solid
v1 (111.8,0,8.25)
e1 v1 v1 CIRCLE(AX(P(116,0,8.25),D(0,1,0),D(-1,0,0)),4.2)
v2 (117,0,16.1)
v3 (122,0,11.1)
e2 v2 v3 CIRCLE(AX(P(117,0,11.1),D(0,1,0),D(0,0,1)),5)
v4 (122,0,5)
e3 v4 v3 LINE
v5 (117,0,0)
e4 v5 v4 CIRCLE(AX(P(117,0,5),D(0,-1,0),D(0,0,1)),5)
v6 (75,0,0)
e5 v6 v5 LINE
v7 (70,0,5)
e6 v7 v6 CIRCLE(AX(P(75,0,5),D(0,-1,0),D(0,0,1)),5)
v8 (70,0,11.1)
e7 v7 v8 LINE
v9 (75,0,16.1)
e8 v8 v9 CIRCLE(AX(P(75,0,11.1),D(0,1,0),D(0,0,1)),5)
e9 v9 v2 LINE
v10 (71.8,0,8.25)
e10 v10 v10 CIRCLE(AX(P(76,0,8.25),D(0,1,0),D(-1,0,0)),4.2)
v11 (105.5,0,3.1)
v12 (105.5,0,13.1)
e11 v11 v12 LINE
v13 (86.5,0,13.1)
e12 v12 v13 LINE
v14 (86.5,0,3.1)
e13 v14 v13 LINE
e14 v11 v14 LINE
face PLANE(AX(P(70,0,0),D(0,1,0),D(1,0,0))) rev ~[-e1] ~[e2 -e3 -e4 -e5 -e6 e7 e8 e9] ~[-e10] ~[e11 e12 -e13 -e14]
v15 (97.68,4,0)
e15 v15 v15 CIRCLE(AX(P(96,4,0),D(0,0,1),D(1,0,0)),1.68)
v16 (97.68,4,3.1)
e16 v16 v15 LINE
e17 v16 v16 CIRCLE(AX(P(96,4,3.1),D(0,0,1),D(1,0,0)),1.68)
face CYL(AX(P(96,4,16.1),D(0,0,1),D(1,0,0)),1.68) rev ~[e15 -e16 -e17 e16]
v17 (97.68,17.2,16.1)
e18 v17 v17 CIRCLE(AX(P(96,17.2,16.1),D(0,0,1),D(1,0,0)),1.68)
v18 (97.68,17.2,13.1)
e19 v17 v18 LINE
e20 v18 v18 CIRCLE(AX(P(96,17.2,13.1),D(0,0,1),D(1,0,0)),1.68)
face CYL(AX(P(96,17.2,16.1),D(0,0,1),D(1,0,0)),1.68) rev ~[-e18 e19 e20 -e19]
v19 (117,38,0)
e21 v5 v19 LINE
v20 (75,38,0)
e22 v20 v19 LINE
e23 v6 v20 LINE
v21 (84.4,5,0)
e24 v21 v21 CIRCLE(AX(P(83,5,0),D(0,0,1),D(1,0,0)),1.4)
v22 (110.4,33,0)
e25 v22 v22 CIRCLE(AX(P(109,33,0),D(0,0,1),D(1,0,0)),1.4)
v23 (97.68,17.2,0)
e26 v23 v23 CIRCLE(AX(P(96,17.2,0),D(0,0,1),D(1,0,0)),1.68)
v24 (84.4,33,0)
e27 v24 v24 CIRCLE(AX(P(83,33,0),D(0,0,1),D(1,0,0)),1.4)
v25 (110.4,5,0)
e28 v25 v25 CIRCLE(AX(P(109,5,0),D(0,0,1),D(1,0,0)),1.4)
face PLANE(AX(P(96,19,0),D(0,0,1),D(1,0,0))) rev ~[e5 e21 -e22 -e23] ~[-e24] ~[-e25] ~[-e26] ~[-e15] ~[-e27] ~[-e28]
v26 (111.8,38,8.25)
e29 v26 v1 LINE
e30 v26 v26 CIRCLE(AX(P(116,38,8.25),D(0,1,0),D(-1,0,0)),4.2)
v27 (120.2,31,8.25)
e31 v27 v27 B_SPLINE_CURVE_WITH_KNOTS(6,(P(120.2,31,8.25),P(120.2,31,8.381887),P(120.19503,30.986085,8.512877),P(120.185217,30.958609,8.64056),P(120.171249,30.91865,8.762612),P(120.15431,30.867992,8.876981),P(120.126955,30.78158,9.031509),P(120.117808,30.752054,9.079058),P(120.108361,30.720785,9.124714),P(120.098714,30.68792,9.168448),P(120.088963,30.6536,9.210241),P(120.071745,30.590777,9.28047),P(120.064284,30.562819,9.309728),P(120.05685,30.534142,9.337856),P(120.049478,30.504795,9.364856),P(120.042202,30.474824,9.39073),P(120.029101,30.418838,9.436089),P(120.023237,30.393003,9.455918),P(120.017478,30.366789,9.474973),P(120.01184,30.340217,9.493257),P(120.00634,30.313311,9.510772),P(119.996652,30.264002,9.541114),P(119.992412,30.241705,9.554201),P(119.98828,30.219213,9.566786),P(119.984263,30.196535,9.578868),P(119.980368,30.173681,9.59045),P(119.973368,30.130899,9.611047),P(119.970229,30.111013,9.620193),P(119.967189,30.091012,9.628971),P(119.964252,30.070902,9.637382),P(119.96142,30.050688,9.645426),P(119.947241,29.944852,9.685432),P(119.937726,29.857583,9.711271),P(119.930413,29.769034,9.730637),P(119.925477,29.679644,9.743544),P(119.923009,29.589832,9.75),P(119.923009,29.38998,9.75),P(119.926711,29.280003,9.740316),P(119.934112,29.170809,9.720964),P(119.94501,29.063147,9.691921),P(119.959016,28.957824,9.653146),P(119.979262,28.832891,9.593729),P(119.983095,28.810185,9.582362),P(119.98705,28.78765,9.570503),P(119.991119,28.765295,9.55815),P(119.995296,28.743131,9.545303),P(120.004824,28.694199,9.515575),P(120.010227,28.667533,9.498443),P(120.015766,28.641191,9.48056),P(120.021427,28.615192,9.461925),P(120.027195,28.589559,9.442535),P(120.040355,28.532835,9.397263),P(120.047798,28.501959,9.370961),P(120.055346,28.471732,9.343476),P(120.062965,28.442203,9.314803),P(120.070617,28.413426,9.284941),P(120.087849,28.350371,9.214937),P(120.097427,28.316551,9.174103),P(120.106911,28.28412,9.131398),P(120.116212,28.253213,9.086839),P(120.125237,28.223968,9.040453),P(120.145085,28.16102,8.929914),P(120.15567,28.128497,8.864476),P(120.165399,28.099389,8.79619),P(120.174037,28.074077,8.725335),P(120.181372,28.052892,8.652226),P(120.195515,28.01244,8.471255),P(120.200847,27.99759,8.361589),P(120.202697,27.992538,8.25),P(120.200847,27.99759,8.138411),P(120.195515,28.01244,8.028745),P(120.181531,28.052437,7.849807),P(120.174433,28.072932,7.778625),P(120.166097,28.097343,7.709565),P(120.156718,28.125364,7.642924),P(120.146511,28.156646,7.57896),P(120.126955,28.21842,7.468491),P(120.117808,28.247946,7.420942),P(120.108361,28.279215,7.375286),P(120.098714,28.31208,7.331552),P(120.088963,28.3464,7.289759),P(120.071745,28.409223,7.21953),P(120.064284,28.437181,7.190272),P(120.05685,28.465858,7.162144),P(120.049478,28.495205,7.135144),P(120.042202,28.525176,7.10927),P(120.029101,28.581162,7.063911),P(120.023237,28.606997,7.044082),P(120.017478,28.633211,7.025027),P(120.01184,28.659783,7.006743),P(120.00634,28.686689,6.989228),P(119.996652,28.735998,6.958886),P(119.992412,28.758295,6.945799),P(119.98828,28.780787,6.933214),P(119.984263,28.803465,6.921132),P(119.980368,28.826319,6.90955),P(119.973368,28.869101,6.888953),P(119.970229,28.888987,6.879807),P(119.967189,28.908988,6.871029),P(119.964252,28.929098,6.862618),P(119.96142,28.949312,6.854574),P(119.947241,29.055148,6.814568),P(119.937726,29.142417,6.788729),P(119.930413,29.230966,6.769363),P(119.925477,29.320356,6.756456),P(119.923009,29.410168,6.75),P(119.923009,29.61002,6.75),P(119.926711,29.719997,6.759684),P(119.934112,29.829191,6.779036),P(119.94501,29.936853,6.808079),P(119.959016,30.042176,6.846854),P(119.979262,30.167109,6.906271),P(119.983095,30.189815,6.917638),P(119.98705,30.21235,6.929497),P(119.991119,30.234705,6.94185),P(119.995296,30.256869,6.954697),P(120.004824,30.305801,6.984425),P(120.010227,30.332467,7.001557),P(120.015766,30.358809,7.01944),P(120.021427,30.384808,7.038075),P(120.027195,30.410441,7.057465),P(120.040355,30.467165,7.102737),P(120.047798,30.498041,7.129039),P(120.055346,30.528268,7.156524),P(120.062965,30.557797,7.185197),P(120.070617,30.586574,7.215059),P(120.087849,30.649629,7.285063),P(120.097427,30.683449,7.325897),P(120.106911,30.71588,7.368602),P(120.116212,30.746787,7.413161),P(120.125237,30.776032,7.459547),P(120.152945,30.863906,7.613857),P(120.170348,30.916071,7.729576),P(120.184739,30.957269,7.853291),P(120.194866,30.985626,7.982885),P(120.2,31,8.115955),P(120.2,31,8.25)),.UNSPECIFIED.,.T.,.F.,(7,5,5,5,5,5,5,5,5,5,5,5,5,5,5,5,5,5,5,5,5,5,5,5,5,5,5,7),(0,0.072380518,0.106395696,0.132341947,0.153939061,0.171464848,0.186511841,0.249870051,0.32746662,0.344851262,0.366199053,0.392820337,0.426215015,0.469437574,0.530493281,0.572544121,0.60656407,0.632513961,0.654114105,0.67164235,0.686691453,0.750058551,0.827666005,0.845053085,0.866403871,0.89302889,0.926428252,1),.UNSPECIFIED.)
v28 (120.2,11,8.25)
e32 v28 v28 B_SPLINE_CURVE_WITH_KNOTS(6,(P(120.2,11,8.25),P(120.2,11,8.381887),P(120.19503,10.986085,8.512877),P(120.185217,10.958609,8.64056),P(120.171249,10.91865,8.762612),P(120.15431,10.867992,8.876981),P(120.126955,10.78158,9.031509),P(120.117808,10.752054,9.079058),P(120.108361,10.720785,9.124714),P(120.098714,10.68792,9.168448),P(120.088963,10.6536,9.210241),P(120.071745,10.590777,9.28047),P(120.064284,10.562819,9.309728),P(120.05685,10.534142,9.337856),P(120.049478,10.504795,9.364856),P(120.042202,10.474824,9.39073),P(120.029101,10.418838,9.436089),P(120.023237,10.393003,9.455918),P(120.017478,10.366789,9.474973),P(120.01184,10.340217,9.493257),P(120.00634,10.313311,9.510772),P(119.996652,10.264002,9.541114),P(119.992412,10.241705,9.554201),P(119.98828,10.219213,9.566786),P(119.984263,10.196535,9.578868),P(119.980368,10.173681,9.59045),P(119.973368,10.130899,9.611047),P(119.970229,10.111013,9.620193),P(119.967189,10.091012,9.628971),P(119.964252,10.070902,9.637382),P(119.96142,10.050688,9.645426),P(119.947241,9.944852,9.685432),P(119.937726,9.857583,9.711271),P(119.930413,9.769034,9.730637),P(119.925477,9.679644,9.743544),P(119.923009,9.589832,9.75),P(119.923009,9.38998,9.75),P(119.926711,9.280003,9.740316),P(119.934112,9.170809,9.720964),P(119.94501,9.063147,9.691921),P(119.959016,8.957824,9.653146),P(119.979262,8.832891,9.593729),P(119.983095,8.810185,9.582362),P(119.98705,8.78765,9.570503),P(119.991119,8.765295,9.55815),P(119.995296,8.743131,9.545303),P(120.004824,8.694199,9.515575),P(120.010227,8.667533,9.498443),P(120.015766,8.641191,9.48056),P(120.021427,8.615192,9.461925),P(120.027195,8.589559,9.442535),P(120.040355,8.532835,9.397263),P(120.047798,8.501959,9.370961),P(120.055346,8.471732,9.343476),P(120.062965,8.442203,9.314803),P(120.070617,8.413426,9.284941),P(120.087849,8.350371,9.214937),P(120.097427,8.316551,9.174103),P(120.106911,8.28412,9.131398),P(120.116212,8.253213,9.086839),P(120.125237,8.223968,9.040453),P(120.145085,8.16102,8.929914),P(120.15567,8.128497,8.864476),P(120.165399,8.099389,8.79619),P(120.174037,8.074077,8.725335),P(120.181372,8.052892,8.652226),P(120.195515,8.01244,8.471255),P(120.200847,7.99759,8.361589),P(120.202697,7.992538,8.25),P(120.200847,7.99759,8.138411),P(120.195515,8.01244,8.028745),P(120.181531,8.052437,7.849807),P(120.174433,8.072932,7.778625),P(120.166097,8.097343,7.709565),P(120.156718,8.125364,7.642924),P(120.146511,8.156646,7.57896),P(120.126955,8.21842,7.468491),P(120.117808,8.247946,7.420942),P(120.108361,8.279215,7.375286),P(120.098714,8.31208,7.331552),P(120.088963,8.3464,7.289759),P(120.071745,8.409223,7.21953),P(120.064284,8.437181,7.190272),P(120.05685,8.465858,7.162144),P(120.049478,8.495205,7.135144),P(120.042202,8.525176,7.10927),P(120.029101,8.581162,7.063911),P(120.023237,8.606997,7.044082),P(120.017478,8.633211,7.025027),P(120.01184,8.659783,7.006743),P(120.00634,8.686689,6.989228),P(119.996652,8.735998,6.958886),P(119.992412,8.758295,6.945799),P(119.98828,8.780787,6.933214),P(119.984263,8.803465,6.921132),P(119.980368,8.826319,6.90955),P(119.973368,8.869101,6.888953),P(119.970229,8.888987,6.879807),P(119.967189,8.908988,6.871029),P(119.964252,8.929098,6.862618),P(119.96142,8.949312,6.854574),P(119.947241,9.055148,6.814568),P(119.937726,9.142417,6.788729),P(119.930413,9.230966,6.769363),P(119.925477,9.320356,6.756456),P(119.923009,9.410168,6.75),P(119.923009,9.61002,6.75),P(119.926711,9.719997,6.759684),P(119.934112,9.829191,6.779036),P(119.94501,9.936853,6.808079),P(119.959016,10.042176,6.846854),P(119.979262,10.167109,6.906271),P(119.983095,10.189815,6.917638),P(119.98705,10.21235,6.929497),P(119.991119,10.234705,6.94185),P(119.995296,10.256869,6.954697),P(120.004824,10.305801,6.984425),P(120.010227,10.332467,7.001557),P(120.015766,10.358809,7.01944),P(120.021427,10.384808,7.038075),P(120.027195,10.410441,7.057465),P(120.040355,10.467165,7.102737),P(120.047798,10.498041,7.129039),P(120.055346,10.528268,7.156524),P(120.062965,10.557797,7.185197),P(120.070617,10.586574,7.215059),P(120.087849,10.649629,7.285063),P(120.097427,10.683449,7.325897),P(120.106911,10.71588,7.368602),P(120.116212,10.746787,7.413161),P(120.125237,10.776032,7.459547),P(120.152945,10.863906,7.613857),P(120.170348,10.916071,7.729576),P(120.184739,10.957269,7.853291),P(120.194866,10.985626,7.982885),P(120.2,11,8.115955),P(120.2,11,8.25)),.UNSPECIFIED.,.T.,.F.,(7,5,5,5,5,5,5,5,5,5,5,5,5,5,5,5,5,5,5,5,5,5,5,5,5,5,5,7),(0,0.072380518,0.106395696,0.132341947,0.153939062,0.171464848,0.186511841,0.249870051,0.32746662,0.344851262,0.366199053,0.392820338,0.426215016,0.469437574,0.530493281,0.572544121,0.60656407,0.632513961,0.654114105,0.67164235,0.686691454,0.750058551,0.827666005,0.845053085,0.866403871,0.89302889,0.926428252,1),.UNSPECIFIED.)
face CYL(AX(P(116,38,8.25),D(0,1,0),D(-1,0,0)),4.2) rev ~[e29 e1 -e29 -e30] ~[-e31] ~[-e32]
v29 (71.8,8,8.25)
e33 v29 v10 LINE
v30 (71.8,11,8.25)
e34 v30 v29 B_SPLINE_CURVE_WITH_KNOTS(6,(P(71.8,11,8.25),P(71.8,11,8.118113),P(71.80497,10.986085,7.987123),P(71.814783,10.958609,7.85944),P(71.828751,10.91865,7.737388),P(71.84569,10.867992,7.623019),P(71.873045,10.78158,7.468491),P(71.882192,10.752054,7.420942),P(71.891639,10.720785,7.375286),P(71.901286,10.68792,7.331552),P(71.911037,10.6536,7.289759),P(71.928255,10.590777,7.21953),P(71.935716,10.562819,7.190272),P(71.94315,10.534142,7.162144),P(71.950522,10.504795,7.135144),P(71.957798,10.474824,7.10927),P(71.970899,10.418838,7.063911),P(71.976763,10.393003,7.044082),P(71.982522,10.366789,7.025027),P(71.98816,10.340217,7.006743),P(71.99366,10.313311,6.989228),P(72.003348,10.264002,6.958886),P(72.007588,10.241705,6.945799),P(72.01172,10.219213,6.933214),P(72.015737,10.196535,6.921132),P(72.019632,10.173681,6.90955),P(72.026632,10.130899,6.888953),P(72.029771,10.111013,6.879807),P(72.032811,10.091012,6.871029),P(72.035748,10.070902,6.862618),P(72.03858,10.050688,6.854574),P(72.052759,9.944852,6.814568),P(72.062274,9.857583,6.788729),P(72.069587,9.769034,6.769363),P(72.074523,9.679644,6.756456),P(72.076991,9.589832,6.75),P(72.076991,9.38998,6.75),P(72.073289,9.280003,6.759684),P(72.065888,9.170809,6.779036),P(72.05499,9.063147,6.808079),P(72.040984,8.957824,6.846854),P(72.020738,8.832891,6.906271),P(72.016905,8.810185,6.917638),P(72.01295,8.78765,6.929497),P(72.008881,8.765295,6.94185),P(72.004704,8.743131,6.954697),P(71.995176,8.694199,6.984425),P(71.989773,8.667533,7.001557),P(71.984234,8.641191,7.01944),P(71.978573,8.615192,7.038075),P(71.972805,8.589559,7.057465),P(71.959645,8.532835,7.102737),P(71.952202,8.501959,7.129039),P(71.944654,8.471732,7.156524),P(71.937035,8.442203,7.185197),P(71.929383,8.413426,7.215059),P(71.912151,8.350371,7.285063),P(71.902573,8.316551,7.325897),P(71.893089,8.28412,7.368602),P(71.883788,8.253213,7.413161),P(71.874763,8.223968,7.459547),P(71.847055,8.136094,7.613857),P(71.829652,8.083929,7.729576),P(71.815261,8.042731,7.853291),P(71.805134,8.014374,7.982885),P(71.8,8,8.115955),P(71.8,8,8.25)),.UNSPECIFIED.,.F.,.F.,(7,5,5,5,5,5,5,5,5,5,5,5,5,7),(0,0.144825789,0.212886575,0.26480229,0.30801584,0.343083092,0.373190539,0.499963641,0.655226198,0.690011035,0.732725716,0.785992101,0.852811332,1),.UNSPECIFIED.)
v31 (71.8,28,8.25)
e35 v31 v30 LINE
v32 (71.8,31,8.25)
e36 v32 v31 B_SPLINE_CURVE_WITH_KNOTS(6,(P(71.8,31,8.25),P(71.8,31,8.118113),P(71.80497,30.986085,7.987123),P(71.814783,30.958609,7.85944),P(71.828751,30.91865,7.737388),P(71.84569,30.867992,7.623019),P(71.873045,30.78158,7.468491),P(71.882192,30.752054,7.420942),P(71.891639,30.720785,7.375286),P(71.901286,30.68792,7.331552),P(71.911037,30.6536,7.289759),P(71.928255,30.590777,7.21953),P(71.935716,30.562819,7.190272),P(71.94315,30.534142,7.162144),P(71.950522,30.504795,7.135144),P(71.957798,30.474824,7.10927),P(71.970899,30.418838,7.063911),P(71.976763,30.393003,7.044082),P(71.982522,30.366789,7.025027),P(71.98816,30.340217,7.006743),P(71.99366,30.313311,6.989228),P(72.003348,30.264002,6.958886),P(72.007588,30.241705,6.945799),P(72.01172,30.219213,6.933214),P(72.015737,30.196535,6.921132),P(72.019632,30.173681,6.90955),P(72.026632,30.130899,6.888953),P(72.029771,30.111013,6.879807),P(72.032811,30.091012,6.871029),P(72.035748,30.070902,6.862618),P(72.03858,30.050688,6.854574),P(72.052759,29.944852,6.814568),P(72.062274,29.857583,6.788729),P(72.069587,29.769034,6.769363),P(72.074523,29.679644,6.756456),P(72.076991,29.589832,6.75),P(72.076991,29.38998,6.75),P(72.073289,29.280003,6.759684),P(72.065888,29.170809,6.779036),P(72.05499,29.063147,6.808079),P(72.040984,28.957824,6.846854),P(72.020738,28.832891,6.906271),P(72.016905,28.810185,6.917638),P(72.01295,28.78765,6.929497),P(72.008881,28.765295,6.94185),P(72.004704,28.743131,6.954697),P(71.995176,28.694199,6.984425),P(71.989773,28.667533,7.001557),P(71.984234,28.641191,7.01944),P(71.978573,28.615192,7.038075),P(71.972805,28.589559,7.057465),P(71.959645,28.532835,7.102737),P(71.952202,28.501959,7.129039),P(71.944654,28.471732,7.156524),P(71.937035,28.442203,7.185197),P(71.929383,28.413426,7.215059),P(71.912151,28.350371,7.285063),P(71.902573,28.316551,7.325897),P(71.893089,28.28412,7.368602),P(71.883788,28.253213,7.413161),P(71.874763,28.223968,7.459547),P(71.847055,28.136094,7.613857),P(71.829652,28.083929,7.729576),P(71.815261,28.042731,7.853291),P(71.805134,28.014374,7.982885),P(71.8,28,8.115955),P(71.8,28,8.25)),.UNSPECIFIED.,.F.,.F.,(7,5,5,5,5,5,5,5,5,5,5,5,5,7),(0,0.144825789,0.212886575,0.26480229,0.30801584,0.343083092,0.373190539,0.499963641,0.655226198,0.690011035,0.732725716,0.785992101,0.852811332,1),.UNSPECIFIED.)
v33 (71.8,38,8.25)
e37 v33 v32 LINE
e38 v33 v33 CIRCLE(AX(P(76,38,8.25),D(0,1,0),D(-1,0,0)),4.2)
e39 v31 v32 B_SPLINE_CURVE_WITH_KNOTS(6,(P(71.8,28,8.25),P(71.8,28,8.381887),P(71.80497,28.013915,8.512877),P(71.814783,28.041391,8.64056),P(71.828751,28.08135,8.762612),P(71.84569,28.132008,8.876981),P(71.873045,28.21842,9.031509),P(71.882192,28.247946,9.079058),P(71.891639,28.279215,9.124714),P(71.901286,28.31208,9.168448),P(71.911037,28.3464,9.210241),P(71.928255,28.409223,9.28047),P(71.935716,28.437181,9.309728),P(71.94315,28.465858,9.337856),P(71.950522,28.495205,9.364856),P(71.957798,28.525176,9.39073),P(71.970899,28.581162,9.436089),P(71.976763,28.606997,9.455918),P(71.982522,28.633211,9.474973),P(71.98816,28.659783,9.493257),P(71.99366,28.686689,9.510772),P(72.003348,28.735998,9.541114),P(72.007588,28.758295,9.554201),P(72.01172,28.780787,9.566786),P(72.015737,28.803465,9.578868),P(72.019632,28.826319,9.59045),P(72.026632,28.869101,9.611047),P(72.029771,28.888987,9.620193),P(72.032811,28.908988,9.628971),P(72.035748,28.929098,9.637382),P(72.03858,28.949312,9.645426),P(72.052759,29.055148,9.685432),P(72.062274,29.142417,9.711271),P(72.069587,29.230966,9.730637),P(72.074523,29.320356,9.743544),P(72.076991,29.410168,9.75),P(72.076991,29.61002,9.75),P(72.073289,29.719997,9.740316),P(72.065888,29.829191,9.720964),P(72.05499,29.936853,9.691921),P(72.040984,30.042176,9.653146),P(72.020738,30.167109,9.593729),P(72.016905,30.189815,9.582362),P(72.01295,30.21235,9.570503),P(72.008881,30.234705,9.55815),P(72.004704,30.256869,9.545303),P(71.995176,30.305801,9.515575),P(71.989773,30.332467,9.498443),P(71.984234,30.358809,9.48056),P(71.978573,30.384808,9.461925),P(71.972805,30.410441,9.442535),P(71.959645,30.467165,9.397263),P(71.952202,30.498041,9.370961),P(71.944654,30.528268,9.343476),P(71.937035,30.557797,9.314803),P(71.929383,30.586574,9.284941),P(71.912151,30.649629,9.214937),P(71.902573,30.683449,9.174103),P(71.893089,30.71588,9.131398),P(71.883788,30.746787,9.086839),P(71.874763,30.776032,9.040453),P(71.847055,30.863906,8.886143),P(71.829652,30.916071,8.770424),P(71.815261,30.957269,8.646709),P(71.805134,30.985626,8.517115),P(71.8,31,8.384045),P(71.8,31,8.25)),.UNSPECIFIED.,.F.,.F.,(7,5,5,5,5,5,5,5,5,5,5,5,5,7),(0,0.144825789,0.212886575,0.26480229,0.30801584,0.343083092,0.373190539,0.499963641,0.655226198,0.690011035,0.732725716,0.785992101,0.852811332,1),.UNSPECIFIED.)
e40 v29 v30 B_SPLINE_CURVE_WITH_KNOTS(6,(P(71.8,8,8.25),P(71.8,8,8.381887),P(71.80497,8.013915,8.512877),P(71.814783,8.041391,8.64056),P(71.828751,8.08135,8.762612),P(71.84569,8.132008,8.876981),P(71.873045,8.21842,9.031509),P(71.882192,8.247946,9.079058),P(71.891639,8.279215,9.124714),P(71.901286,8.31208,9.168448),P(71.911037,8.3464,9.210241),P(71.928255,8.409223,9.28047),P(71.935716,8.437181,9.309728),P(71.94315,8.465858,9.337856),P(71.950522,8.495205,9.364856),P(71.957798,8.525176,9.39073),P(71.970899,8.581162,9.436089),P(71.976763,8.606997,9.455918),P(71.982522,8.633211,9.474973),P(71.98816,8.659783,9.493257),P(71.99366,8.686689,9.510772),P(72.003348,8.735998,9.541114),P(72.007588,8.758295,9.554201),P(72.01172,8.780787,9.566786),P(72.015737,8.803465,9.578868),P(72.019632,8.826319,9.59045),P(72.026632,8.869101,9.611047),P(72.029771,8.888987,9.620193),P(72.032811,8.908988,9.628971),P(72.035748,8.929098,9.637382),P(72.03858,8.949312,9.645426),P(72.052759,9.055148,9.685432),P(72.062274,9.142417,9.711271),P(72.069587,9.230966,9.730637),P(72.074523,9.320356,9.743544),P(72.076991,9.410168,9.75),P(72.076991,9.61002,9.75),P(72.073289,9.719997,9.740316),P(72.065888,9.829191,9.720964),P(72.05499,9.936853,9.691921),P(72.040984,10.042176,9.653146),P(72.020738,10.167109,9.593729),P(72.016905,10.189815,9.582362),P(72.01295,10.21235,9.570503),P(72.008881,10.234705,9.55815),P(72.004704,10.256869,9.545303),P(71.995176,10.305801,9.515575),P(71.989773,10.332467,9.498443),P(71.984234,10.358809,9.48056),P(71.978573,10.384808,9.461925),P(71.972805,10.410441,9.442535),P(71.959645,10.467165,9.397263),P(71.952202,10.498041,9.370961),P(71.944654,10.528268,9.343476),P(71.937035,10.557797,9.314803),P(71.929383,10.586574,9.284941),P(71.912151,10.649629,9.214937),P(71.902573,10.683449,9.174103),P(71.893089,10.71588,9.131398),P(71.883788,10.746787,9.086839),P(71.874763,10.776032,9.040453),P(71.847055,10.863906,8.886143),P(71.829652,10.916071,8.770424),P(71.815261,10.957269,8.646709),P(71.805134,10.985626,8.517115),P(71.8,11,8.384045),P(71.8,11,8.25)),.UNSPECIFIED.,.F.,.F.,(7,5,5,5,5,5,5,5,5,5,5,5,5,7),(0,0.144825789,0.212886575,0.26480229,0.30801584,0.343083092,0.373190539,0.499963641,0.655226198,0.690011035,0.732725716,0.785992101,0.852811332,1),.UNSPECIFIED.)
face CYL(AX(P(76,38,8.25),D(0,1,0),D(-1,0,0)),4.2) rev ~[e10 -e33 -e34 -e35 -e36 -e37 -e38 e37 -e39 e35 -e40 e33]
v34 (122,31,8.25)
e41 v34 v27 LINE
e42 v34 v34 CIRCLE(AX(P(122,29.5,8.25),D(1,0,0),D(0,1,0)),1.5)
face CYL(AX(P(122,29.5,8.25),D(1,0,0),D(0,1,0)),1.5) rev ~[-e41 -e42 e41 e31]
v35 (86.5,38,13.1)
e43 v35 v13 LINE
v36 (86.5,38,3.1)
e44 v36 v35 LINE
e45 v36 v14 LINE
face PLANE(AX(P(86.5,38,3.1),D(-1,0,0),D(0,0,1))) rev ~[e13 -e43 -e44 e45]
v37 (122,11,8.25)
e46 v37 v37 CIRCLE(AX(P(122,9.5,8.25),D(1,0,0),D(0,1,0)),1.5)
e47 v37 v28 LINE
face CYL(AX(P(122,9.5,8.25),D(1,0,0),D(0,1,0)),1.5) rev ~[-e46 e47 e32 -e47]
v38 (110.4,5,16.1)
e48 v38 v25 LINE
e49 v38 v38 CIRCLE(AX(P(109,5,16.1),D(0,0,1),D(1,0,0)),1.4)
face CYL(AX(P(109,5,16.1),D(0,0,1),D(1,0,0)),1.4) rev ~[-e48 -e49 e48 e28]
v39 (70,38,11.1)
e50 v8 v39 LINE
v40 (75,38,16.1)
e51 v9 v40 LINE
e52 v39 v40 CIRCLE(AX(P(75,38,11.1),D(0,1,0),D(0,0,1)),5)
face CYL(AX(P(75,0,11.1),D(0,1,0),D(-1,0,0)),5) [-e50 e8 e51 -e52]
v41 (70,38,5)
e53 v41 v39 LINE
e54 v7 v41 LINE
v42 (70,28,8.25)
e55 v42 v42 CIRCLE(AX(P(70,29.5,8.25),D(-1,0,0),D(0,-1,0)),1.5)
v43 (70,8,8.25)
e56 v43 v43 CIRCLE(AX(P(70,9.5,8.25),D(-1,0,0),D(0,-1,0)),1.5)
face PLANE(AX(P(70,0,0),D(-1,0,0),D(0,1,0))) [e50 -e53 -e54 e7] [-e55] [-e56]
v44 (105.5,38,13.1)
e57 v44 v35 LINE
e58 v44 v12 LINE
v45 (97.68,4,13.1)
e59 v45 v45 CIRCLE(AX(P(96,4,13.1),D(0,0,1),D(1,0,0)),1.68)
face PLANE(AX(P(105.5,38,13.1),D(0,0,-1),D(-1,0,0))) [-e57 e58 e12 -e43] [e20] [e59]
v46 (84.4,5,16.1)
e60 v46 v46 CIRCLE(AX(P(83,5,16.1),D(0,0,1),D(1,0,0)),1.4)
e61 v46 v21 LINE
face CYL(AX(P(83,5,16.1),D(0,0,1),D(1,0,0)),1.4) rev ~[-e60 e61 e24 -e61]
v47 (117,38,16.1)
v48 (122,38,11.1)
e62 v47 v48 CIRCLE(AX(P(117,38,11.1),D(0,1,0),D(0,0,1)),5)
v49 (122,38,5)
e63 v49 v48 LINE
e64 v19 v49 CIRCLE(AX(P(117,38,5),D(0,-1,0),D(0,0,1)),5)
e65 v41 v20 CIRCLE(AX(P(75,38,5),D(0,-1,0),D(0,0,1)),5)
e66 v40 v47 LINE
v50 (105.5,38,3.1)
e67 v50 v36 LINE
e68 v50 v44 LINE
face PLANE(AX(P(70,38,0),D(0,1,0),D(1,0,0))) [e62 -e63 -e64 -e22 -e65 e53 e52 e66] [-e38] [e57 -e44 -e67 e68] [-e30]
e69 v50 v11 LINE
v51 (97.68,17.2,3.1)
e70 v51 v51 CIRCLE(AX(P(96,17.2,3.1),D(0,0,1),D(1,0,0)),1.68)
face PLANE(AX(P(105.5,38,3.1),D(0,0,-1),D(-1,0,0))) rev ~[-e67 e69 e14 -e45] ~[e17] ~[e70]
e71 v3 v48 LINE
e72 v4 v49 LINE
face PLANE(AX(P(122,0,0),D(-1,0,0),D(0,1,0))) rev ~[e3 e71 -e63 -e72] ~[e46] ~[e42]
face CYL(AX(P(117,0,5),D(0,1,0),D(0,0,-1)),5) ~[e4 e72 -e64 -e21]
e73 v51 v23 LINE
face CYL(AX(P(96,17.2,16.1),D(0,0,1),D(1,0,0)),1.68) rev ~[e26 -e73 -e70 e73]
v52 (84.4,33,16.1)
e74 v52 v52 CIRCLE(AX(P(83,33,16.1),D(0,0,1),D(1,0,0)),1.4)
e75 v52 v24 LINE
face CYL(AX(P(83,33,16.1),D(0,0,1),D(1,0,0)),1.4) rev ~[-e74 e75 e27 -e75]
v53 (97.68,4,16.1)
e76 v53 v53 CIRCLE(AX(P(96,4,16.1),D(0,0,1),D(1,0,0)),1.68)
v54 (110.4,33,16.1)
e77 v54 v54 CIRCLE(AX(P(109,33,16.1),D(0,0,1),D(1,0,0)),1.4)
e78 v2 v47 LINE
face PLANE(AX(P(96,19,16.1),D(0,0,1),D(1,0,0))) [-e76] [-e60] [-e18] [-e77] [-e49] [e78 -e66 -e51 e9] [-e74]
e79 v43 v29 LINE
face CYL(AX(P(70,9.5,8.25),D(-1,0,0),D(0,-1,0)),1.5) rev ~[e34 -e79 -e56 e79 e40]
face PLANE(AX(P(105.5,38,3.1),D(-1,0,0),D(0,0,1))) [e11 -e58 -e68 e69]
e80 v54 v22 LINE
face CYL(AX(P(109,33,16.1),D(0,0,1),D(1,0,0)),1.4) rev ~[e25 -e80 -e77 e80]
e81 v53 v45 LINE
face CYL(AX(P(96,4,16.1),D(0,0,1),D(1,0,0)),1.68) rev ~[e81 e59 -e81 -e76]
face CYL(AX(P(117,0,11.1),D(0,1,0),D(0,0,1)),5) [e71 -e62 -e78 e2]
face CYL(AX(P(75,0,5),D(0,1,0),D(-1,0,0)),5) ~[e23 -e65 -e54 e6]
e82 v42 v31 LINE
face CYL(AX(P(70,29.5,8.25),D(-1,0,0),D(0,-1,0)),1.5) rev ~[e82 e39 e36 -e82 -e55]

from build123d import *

# Parameters (mm, degrees)
BOX003_W        = 52
BOX003_H        = 38
BOX003_DEPTH    = 16.1
SKETCH018_R     = 4.2
SKETCH018_W     = 19
SKETCH018_H     = 10
POCKET010_DEPTH = 38.001
SKETCH020_R     = 1.4
SKETCH020_R_2   = 1.68
POCKET011_DEPTH = 16.101
SKETCH021_R     = 1.5
POCKET012_DEPTH = 3
SKETCH019_R     = 1.5
POCKET013_DEPTH = 3
FILLET006_R     = 5


with BuildPart() as part:
    # Box003 → Box003 (new body)
    with BuildSketch(Plane(origin=(70, 0, 0), x_dir=(1, 0, 0), z_dir=(0, 0, 1))):
        with Locations((26, 19)):
            Rectangle(BOX003_W, BOX003_H)
    extrude(amount=BOX003_DEPTH)

    # Sketch018 → Pocket010 (cut, through all)
    with BuildSketch(Plane(origin=(70, 38, 0), x_dir=(-1, 0, 0), z_dir=(0, 1, 0))):
        with Locations((-46, 8.25)):
            Circle(SKETCH018_R)
        with Locations((-6, 8.25)):
            Circle(SKETCH018_R)
        with Locations((-26, 8.1)):
            Rectangle(SKETCH018_W, SKETCH018_H)
    extrude(amount=-POCKET010_DEPTH, mode=Mode.SUBTRACT)

    # Sketch020 → Pocket011 (cut, through all)
    with BuildSketch(Plane(origin=(70, 0, 16.1), x_dir=(1, 0, 0), z_dir=(0, 0, 1))):
        with Locations((13, 5)):
            Circle(SKETCH020_R)
        with Locations((39, 5)):
            Circle(SKETCH020_R)
        with Locations((39, 33)):
            Circle(SKETCH020_R)
        with Locations((13, 33)):
            Circle(SKETCH020_R)
        with Locations((26, 4)):
            Circle(SKETCH020_R_2)
        with Locations((26, 17.2)):
            Circle(SKETCH020_R_2)
    extrude(amount=-POCKET011_DEPTH, mode=Mode.SUBTRACT)

    # Sketch021 → Pocket012 (cut)
    with BuildSketch(Plane(origin=(70, 0, 0), x_dir=(0, -1, 0), z_dir=(-1, 0, 0))):
        with Locations((-29.5, 8.25)):
            Circle(SKETCH021_R)
        with Locations((-9.5, 8.25)):
            Circle(SKETCH021_R)
    extrude(amount=-POCKET012_DEPTH, mode=Mode.SUBTRACT)

    # Sketch019 → Pocket013 (cut)
    with BuildSketch(Plane.YZ.offset(122)):
        with Locations((9.5, 8.25)):
            Circle(SKETCH019_R)
        with Locations((29.5, 8.25)):
            Circle(SKETCH019_R)
    extrude(amount=-POCKET013_DEPTH, mode=Mode.SUBTRACT)

    # Fillet006
    fillet006_edges = [part.edges().sort_by_distance(p)[0] for p in [
        (122, 19, 16.1),
        (122, 19, 0),
        (70, 19, 0),
        (70, 19, 16.1),
    ]]
    fillet(fillet006_edges, radius=FILLET006_R)


solid = part.part
